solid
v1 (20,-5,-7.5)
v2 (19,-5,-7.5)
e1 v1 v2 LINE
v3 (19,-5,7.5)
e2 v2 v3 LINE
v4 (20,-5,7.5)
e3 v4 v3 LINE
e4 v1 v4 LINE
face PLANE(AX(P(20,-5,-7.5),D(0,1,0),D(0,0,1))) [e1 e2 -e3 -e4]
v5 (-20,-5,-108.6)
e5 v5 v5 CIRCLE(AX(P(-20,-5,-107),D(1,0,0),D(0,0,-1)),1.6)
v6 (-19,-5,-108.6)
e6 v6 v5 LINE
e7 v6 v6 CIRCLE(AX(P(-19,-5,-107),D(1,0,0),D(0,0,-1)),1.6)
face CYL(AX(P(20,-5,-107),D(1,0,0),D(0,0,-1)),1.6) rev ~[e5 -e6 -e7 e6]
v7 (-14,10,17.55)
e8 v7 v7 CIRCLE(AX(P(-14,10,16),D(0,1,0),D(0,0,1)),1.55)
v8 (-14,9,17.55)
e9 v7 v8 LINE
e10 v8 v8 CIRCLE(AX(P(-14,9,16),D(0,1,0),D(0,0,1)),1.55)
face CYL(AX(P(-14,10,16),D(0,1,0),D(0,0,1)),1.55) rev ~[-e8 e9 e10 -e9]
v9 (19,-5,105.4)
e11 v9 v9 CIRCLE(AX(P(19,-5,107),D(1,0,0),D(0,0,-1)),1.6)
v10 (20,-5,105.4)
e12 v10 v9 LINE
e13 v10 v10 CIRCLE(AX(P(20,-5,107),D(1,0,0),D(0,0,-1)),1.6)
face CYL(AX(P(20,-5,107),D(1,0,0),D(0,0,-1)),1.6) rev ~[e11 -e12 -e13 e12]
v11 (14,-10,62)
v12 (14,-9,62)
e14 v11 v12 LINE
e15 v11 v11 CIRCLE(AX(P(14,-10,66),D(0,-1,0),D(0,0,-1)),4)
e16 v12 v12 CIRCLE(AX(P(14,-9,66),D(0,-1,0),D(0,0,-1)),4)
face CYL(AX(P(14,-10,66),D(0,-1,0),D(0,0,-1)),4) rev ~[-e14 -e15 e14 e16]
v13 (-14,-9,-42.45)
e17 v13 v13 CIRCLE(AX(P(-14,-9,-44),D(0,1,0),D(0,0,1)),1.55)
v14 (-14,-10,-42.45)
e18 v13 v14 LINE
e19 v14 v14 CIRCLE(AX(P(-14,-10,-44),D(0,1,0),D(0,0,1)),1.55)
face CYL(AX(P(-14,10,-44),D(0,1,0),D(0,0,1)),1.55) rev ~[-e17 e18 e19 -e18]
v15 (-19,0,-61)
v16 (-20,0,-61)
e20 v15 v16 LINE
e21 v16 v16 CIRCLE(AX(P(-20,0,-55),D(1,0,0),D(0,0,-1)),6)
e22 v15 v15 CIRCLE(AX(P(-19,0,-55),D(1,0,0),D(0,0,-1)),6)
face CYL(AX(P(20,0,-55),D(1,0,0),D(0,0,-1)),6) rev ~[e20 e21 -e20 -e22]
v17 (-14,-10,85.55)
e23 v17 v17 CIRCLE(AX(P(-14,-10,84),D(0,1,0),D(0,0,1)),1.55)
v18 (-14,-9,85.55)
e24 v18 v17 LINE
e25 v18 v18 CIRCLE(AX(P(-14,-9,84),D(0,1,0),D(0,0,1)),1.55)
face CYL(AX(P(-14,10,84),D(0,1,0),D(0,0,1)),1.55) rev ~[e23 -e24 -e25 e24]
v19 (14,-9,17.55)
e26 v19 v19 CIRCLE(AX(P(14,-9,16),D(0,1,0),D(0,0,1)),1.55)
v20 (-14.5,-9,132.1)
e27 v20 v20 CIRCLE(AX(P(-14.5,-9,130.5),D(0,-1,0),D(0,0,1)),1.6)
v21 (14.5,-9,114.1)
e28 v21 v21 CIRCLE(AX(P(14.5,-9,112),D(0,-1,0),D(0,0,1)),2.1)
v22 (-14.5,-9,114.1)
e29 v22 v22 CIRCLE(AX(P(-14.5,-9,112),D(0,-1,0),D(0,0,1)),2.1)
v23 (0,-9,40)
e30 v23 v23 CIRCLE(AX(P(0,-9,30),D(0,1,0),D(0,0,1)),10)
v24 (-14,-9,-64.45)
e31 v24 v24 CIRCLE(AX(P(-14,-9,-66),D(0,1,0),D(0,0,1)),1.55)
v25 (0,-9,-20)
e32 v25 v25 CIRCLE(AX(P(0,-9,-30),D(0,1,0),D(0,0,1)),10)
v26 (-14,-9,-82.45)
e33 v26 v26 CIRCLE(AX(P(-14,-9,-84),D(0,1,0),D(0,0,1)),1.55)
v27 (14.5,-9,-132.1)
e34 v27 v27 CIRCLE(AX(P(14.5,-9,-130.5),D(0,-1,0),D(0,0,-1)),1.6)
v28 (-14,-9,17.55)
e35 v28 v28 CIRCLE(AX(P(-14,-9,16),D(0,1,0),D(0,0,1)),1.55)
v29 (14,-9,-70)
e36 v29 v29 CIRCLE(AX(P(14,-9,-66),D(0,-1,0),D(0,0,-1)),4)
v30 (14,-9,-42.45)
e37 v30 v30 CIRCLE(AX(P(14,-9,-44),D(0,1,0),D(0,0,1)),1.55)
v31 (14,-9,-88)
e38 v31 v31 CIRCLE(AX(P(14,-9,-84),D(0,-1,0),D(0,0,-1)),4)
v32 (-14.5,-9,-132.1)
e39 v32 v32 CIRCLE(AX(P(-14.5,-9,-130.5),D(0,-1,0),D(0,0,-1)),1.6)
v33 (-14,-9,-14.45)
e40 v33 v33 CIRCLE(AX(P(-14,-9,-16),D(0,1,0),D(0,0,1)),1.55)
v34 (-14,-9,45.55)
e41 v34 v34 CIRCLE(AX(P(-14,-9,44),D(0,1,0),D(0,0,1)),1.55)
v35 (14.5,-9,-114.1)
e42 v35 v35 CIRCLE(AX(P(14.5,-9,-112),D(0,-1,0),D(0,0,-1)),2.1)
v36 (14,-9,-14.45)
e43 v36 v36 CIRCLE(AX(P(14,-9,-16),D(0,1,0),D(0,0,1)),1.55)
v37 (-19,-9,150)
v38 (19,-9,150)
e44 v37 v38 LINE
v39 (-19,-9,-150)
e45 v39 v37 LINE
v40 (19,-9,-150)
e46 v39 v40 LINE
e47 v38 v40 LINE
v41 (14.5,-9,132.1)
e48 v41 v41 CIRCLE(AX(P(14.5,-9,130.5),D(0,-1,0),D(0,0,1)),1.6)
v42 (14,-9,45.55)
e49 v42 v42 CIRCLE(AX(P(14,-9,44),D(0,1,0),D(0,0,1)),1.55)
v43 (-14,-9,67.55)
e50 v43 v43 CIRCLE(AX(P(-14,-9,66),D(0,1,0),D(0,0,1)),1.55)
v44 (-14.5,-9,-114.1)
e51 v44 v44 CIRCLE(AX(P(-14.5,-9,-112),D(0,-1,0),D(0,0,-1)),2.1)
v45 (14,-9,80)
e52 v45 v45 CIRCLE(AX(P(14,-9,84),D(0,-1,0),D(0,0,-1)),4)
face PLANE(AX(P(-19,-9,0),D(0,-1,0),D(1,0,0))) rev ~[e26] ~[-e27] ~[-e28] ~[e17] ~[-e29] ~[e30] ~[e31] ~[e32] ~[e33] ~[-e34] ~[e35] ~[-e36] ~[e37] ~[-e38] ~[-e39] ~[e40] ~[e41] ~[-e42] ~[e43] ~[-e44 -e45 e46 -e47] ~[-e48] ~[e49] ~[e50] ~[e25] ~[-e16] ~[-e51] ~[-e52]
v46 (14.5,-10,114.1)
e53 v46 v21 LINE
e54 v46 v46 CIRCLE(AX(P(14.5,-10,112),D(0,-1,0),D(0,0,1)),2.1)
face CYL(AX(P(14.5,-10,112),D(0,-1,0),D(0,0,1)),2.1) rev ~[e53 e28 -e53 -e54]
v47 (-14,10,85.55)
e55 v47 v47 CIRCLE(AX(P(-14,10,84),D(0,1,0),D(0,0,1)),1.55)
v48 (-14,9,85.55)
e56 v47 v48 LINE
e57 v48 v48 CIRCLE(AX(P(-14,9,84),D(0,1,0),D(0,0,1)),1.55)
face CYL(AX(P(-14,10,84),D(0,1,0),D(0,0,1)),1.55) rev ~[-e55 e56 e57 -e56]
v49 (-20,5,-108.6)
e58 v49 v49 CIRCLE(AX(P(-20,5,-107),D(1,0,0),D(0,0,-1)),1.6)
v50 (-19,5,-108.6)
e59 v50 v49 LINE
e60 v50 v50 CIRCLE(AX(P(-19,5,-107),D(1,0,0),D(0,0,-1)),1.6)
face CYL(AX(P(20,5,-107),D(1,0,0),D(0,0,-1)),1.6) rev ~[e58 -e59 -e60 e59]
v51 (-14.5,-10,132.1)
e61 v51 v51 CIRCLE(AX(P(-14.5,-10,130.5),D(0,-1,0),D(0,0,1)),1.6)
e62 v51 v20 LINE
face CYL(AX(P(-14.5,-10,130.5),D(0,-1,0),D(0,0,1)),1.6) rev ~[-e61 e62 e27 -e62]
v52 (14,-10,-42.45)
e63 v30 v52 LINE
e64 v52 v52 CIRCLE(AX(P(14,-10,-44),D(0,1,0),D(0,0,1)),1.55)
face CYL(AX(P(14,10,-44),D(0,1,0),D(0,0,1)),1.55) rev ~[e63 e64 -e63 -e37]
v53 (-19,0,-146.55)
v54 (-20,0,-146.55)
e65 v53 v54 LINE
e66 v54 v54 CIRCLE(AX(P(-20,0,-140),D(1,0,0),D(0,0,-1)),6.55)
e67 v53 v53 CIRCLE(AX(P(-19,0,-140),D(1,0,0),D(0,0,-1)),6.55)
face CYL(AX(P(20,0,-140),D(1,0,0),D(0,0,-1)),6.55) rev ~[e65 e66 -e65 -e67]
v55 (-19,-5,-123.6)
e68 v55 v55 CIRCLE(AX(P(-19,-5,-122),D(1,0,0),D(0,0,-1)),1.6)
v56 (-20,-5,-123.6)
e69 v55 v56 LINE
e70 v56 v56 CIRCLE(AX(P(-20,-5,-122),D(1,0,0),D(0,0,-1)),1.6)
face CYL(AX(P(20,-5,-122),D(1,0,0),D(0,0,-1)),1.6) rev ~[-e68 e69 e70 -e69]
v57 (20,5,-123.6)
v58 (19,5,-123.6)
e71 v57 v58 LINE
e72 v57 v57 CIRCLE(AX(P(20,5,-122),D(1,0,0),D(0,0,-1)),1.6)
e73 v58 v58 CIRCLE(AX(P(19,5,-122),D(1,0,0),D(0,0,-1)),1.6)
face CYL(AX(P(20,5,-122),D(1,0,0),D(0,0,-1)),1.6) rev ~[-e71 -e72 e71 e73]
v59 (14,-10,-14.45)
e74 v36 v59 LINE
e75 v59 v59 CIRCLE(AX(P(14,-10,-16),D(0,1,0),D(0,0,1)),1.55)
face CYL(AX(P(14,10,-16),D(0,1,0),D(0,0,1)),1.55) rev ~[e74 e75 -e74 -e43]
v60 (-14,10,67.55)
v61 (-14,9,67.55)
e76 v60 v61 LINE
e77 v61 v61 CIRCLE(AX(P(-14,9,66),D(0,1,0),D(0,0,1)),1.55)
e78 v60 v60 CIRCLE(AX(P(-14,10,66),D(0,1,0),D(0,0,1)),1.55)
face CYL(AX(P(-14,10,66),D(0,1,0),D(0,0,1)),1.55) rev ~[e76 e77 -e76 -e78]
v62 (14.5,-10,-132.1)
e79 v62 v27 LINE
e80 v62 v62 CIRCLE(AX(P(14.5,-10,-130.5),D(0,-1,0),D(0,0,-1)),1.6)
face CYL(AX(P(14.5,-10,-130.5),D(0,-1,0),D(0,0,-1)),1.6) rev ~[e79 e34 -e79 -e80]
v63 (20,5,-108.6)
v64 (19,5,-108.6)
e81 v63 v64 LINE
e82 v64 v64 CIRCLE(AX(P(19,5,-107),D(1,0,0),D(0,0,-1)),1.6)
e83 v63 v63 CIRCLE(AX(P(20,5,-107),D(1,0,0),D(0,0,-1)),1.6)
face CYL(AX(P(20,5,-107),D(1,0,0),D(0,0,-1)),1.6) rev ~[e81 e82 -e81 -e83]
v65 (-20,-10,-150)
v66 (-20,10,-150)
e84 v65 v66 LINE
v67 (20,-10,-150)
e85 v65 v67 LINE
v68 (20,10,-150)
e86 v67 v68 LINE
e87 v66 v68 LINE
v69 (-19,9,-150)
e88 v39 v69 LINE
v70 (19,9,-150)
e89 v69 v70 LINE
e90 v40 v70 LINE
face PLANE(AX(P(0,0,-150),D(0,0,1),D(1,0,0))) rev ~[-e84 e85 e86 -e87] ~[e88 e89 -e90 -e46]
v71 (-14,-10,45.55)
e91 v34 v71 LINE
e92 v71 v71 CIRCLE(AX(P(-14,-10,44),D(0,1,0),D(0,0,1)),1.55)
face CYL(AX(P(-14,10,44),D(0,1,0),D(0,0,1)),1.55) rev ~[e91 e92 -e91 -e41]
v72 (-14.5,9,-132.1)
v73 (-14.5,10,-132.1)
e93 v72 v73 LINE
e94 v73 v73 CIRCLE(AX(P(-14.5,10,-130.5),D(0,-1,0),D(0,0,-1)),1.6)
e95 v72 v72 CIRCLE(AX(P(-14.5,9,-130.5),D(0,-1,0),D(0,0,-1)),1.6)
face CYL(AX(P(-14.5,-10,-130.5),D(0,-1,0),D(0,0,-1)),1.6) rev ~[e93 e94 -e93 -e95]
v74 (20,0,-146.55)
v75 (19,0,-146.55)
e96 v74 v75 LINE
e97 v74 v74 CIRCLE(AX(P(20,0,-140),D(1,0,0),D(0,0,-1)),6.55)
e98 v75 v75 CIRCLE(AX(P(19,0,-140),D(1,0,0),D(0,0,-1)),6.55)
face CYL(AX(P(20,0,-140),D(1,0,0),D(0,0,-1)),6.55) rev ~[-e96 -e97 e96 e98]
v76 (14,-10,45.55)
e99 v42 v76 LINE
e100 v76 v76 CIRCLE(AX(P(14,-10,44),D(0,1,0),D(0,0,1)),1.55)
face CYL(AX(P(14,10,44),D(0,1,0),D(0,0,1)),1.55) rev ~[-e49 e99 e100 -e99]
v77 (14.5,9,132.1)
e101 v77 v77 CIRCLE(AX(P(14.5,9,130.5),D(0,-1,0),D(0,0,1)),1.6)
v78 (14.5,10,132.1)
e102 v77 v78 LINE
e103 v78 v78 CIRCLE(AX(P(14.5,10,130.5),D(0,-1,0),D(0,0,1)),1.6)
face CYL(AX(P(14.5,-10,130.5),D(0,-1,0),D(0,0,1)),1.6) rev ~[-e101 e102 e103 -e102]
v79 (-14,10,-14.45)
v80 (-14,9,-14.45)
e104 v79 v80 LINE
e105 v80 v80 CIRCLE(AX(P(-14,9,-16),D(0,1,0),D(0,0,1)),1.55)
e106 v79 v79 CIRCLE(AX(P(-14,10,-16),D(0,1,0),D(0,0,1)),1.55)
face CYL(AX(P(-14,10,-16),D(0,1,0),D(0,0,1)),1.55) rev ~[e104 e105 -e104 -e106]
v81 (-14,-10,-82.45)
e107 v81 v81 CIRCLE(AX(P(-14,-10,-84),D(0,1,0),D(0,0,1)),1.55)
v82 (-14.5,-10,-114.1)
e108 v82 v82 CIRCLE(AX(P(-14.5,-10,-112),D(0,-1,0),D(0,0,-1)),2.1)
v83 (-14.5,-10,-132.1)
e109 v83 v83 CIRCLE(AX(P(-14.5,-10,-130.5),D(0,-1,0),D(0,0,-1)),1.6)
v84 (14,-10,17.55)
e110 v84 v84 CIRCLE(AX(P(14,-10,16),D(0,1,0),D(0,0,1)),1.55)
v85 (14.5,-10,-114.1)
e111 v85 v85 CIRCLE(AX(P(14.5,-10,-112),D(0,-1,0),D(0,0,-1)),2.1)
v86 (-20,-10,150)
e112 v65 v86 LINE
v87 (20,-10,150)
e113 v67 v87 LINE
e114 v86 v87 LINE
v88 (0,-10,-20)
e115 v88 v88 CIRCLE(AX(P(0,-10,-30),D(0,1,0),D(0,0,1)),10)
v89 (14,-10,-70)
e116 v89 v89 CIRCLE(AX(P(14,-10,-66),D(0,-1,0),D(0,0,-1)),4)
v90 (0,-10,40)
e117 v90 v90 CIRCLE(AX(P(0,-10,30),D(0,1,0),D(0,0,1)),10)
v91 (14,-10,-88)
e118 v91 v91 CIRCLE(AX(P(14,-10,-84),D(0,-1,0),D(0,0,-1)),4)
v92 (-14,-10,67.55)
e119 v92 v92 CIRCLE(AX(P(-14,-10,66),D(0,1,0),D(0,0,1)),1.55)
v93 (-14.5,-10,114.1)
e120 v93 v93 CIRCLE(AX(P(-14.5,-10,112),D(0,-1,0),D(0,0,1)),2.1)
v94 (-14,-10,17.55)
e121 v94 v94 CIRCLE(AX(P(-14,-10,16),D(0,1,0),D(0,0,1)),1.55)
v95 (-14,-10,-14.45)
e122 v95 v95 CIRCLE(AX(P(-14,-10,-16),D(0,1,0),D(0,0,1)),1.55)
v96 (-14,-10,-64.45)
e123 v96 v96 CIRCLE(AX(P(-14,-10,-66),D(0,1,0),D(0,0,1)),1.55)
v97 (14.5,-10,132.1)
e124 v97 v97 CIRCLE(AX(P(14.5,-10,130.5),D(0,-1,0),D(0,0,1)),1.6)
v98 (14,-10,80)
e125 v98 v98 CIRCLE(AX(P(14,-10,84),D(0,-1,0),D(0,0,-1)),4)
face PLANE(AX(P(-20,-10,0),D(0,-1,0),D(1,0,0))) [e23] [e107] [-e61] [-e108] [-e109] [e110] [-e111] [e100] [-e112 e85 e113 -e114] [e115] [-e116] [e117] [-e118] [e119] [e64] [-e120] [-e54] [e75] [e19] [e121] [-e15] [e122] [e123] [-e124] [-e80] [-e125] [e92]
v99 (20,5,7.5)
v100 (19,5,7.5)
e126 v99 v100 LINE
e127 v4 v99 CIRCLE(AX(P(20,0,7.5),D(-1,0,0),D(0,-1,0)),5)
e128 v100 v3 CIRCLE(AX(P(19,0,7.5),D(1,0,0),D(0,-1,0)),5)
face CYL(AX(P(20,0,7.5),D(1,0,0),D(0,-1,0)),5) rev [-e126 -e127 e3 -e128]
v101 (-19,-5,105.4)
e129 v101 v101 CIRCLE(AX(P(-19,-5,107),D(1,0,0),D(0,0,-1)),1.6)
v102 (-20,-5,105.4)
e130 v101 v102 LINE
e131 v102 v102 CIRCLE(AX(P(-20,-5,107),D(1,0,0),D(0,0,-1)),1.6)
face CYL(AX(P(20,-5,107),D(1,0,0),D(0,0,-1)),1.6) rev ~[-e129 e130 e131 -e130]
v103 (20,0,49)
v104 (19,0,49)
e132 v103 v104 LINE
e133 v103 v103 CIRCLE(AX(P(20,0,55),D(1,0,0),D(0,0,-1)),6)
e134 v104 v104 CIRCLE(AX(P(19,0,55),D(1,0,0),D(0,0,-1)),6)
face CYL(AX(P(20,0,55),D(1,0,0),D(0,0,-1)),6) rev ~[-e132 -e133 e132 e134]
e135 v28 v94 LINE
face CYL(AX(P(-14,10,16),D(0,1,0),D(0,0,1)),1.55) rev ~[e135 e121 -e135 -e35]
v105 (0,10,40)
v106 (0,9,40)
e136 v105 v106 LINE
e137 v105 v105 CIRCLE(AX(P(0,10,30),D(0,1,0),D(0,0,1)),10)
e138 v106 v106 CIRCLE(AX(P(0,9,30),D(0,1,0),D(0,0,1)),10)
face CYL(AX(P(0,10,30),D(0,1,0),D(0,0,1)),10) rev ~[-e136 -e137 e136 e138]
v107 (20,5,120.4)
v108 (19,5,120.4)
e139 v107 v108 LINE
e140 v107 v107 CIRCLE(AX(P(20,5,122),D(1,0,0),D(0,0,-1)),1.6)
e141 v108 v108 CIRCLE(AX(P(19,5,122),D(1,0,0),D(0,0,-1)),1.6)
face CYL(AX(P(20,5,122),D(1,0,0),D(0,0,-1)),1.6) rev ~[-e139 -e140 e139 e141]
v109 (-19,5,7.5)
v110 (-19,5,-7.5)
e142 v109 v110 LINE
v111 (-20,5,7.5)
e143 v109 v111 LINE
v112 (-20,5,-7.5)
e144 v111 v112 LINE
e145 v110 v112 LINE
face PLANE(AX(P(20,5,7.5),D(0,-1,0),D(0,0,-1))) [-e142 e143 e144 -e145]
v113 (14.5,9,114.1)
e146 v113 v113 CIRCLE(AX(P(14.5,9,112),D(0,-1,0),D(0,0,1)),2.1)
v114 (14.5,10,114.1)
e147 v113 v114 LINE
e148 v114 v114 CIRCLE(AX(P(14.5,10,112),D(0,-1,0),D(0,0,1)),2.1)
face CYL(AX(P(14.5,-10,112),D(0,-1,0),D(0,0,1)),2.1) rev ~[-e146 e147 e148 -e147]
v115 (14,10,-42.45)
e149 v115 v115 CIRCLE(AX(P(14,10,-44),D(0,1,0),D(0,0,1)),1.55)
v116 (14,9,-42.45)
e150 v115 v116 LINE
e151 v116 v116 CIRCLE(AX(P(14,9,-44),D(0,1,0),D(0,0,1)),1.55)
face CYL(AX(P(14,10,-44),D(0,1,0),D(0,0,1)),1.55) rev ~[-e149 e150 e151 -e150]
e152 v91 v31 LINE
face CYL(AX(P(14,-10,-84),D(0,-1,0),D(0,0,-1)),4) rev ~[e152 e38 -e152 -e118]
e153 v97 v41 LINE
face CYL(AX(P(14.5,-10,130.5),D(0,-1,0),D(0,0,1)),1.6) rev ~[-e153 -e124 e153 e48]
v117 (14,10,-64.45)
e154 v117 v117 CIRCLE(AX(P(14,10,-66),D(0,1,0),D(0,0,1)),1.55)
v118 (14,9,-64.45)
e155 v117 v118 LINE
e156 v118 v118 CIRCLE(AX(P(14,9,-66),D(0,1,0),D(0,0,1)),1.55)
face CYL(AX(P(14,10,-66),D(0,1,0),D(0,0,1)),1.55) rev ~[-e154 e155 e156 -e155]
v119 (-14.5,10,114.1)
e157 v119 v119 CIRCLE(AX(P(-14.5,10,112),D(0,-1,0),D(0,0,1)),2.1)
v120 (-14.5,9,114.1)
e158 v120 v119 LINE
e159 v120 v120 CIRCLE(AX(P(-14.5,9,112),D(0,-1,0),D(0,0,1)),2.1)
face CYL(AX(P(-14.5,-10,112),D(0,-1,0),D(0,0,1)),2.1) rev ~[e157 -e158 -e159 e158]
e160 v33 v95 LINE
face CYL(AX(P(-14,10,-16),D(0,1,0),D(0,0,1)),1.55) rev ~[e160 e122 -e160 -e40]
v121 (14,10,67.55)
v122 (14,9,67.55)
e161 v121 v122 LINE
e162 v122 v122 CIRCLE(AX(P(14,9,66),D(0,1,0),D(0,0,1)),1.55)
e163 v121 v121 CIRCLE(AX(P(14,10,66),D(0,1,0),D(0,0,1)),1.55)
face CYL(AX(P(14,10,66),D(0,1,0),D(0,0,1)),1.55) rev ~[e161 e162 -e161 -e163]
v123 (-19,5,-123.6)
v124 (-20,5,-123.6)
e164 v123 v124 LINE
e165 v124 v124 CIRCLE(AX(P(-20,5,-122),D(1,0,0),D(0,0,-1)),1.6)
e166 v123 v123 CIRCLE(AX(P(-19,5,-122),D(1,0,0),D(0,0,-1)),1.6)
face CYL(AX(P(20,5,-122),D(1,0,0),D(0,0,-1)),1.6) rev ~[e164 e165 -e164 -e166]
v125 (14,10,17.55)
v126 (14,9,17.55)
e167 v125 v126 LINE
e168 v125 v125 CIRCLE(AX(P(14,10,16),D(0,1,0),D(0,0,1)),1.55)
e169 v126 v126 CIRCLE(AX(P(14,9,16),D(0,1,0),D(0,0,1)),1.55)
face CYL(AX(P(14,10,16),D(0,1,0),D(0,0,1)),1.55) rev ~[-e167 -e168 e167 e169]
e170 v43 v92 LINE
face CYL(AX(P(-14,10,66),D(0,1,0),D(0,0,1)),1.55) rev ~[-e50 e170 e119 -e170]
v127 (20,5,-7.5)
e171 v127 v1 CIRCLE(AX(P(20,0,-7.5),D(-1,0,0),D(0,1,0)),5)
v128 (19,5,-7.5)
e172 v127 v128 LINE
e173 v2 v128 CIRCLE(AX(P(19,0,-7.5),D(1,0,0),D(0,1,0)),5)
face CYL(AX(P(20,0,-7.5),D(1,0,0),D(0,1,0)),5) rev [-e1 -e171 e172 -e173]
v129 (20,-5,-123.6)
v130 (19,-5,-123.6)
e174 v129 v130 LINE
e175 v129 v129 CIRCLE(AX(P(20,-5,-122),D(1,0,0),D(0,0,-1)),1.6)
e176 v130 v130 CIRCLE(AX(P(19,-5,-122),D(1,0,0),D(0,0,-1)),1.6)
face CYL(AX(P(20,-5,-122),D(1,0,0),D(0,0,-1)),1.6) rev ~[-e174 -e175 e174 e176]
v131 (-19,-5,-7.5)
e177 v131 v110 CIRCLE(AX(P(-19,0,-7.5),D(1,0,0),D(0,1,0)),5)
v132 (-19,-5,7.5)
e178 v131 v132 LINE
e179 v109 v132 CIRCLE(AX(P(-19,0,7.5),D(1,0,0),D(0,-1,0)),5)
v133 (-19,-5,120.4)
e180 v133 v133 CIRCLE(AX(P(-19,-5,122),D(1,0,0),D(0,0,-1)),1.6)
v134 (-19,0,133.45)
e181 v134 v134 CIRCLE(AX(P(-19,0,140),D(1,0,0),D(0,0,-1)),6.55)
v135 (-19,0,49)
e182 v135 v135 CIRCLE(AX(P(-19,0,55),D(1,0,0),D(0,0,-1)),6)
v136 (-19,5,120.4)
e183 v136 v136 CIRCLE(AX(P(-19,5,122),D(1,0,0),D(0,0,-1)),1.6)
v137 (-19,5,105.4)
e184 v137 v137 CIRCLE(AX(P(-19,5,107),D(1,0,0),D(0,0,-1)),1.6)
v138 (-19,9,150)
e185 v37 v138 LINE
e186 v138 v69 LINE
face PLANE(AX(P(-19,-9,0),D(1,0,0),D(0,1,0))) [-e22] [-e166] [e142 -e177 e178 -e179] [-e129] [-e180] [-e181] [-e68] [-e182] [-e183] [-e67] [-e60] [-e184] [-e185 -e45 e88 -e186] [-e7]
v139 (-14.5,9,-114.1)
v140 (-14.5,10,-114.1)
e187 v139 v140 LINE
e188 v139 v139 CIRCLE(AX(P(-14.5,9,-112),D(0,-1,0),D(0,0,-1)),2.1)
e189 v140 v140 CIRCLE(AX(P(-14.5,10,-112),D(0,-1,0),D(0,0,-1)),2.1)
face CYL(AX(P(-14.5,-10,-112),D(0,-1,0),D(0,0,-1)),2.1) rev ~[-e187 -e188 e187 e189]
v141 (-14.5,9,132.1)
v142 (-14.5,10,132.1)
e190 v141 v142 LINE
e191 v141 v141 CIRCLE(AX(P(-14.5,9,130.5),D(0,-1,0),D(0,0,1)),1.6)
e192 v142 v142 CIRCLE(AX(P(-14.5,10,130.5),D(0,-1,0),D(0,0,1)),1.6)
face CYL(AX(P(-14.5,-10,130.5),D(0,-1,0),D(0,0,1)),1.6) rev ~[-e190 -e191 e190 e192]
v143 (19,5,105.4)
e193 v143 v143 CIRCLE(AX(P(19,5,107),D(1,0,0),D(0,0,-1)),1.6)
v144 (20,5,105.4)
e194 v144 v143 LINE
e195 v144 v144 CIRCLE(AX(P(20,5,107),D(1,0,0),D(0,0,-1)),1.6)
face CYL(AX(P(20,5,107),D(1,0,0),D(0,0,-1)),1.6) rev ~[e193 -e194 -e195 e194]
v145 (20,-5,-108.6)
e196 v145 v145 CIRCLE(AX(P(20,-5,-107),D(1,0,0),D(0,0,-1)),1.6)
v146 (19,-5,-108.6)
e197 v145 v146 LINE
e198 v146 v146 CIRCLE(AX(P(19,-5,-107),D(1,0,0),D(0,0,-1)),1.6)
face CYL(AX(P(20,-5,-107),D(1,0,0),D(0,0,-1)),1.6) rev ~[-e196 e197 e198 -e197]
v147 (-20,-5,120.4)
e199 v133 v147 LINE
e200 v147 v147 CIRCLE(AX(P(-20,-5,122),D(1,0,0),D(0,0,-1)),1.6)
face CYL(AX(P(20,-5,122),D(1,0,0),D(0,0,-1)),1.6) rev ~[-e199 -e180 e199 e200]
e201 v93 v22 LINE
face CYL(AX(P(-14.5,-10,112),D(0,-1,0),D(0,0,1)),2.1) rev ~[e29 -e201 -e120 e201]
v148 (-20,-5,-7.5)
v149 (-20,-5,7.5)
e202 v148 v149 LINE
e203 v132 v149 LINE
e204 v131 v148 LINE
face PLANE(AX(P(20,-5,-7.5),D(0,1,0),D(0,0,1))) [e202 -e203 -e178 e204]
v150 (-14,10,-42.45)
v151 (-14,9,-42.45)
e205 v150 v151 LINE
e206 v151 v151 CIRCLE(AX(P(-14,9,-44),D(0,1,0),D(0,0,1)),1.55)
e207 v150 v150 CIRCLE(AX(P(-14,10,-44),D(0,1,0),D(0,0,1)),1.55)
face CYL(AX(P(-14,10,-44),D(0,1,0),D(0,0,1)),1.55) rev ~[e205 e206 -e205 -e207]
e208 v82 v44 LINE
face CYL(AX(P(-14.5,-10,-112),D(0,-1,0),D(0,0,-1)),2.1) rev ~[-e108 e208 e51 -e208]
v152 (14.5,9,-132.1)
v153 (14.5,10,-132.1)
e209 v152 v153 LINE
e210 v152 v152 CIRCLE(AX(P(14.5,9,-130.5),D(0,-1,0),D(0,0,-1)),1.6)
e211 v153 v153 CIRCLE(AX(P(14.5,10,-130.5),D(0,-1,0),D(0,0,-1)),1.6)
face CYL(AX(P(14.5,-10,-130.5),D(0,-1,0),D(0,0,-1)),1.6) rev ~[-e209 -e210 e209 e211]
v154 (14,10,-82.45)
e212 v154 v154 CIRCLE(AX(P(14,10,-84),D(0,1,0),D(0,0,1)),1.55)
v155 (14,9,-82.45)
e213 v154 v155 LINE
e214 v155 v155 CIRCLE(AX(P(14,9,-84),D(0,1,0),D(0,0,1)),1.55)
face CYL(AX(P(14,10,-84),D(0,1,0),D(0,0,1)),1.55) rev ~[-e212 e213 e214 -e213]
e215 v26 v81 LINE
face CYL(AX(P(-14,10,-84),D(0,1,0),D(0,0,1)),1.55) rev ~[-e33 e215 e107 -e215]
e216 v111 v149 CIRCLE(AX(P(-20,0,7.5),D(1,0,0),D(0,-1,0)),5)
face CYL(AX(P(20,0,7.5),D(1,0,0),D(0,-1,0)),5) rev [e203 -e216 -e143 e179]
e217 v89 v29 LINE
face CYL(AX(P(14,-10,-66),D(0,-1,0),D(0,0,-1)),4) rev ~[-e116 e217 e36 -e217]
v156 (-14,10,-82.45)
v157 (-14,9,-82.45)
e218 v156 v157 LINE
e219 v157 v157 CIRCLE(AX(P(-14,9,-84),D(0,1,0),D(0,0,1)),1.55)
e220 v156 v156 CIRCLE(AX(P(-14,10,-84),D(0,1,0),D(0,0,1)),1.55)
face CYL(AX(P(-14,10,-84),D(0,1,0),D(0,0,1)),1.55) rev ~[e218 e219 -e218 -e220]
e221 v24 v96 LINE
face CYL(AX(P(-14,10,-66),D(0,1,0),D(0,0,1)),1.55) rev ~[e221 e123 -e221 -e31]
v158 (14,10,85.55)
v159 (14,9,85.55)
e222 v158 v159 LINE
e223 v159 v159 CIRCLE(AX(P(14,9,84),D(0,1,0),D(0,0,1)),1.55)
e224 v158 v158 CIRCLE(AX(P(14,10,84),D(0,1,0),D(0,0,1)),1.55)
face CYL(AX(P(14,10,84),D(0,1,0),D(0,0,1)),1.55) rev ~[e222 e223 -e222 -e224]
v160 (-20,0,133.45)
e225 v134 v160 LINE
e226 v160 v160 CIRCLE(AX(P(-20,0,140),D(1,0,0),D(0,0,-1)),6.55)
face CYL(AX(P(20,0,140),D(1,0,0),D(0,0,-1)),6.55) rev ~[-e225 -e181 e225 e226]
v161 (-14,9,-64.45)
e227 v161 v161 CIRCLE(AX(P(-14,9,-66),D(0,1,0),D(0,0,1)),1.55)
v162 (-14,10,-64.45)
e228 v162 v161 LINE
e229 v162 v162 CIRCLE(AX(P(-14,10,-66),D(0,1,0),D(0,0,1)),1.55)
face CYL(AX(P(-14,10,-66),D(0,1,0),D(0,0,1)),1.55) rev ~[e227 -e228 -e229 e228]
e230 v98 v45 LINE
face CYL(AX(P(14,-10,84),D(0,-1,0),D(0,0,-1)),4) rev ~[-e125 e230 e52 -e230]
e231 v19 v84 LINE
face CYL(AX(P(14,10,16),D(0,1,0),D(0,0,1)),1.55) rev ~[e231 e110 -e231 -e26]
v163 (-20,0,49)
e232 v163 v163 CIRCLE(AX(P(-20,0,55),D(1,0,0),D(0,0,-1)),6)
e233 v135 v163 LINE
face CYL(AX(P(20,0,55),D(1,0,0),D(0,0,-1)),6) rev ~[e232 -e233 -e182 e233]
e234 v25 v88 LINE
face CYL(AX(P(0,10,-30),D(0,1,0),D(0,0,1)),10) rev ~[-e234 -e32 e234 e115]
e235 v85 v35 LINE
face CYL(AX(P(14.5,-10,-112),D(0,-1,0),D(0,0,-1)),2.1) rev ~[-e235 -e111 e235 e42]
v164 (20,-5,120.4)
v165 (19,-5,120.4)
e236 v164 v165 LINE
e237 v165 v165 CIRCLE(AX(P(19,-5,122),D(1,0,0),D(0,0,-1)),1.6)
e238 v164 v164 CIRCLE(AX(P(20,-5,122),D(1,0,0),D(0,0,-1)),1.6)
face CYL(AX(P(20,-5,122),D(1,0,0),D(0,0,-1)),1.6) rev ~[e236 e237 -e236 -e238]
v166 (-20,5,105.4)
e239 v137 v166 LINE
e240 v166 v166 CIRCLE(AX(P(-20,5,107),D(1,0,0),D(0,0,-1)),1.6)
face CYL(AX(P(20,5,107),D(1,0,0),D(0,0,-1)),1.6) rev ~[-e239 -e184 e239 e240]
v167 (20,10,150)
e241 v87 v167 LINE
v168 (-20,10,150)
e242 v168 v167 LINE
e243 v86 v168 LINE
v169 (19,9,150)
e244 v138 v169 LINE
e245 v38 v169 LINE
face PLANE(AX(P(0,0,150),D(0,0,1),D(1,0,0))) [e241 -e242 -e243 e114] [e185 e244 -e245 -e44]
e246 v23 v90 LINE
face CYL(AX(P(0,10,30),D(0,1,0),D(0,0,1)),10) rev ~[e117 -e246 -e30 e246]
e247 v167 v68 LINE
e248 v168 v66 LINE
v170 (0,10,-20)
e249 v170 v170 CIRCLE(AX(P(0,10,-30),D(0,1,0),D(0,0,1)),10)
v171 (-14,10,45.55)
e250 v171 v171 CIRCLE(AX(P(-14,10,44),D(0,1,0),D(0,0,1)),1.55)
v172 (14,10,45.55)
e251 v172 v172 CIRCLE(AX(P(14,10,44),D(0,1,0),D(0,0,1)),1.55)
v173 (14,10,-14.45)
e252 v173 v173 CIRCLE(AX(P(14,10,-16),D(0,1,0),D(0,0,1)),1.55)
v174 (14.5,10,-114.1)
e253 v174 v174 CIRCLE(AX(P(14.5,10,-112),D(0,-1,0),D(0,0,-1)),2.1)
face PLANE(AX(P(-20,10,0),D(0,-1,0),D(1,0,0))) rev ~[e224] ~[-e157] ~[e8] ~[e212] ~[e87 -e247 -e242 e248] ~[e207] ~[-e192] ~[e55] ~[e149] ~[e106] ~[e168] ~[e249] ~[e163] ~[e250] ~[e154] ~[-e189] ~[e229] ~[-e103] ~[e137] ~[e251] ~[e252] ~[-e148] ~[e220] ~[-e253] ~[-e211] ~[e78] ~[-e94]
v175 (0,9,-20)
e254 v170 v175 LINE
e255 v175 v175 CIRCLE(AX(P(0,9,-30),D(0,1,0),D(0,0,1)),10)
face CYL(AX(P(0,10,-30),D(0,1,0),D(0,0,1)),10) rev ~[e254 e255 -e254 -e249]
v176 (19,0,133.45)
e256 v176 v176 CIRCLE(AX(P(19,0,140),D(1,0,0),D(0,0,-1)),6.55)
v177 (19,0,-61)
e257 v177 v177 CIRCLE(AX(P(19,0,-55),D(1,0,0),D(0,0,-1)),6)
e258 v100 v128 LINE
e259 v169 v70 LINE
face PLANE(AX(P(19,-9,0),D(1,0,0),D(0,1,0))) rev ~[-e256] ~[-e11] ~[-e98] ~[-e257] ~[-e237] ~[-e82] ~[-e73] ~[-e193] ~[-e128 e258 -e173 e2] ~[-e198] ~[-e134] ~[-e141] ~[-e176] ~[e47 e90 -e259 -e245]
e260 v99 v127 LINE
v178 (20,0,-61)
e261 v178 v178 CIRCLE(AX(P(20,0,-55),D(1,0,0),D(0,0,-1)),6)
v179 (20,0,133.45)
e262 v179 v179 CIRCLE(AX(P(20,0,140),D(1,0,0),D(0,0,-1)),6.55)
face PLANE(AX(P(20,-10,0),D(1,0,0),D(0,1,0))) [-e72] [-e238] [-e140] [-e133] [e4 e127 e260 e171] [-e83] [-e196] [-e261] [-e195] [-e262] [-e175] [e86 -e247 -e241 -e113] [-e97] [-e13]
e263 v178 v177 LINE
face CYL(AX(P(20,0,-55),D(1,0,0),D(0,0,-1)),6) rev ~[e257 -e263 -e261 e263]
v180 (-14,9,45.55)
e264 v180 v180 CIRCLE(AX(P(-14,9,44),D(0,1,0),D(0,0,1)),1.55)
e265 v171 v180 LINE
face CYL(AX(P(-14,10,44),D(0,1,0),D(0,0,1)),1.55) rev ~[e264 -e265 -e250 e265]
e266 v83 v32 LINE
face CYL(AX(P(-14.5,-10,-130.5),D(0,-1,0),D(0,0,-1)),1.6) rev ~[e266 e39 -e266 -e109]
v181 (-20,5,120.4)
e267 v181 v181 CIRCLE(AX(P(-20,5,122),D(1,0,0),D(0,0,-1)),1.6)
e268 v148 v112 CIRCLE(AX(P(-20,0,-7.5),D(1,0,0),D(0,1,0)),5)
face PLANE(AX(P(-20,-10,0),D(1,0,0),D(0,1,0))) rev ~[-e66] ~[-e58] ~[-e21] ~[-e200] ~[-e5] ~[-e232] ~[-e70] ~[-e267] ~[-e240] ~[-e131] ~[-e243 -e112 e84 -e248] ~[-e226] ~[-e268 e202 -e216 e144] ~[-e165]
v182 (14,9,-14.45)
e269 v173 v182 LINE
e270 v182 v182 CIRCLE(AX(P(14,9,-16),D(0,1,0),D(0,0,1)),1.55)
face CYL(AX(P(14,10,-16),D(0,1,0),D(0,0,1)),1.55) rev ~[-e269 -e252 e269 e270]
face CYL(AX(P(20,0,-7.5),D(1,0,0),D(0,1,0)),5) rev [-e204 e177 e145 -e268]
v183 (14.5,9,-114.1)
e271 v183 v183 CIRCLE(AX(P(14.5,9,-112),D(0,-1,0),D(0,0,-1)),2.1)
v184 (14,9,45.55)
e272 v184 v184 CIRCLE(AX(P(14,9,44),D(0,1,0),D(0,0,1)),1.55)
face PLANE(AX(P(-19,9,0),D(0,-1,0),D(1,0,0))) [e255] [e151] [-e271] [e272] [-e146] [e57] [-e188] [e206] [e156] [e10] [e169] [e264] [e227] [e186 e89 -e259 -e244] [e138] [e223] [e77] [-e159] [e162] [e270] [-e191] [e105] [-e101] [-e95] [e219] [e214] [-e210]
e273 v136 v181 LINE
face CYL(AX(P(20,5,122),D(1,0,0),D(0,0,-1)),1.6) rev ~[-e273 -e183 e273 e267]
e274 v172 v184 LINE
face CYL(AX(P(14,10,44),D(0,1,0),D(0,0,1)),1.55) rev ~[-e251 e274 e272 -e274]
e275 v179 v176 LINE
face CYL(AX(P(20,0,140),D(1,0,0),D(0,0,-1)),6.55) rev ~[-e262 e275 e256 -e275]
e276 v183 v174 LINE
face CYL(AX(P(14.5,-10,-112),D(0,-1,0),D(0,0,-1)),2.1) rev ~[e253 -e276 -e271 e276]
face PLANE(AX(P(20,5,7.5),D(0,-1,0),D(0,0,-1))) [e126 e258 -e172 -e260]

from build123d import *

# Parameters (mm, degrees)
SKETCH_1_W          = 40
SKETCH_1_H          = 20
SKETCH_1_W_2        = 38
SKETCH_1_H_2        = 18
EXTRUDE_1_DEPTH     = 150
SKETCH_2_R          = 6.55
CUT_EXTRUDE_1_DEPTH = 40
SKETCH_3_R          = 1.55
CUT_EXTRUDE_2_DEPTH = 30
SKETCH_4_R          = 4
CUT_EXTRUDE_3_DEPTH = 10
SKETCH_5_R          = 1.6
CUT_EXTRUDE_4_DEPTH = 50
SKETCH_6_R          = 1.6
SKETCH_6_R_2        = 2.1
CUT_EXTRUDE_5_DEPTH = 50
SKETCH_7_R          = 10
SKETCH_7_R_2        = 1.55
CUT_EXTRUDE_6_DEPTH = 30
SKETCH_10_R         = 6
CUT_EXTRUDE_7_DEPTH = 50


with BuildPart() as part:
    # 草图1 → 凸台-拉伸1 (new, symmetric)
    with BuildSketch(Plane.XY):
        Rectangle(SKETCH_1_W, SKETCH_1_H)
        Rectangle(SKETCH_1_W_2, SKETCH_1_H_2, mode=Mode.SUBTRACT)
    extrude(amount=EXTRUDE_1_DEPTH, both=True)

    # 草图2 → 切除-拉伸1 (cut)
    with BuildSketch(Plane(origin=(20, 0, 0), x_dir=(0, 0, -1), z_dir=(1, 0, 0))):
        with Locations((-140, 0)):
            Circle(SKETCH_2_R)
        with Locations((140, 0)):
            Circle(SKETCH_2_R)
    extrude(amount=-CUT_EXTRUDE_1_DEPTH, mode=Mode.SUBTRACT)

    # 草图3 → 切除-拉伸2 (cut)
    with BuildSketch(Plane(origin=(0, 10, 0), x_dir=(1, 0, 0), z_dir=(0, 1, 0))):
        with Locations(Location((-14, -84, 0), (0, 0, 270))):
            Circle(SKETCH_3_R)
        with Locations(Location((-14, -66, 0), (0, 0, 270))):
            Circle(SKETCH_3_R)
        with Locations(Location((14, -84, 0), (0, 0, 270))):
            Circle(SKETCH_3_R)
        with Locations(Location((14, -66, 0), (0, 0, 270))):
            Circle(SKETCH_3_R)
        with Locations(Location((-14, 66, 0), (0, 0, 270))):
            Circle(SKETCH_3_R)
        with Locations(Location((-14, 84, 0), (0, 0, 270))):
            Circle(SKETCH_3_R)
        with Locations(Location((14, 66, 0), (0, 0, 270))):
            Circle(SKETCH_3_R)
        with Locations(Location((14, 84, 0), (0, 0, 270))):
            Circle(SKETCH_3_R)
    extrude(amount=-CUT_EXTRUDE_2_DEPTH, mode=Mode.SUBTRACT)

    # 草图4 → 切除-拉伸3 (cut)
    with BuildSketch(Plane.XZ.offset(10)):
        with Locations(Location((14, -84, 0), (0, 0, 270))):
            Circle(SKETCH_4_R)
        with Locations(Location((14, -66, 0), (0, 0, 270))):
            Circle(SKETCH_4_R)
        with Locations(Location((14, 84, 0), (0, 0, 270))):
            Circle(SKETCH_4_R)
        with Locations(Location((14, 66, 0), (0, 0, 270))):
            Circle(SKETCH_4_R)
    extrude(amount=-CUT_EXTRUDE_3_DEPTH, mode=Mode.SUBTRACT)

    # 草图5 → 切除-拉伸4 (cut)
    with BuildSketch(Plane(origin=(20, 0, 0), x_dir=(0, 0, -1), z_dir=(1, 0, 0))):
        with Locations((122, 5)):
            Circle(SKETCH_5_R)
        with Locations((122, -5)):
            Circle(SKETCH_5_R)
        with Locations((107, 5)):
            Circle(SKETCH_5_R)
        with Locations((107, -5)):
            Circle(SKETCH_5_R)
        with Locations((-107, -5)):
            Circle(SKETCH_5_R)
        with Locations((-107, 5)):
            Circle(SKETCH_5_R)
        with Locations((-122, -5)):
            Circle(SKETCH_5_R)
        with Locations((-122, 5)):
            Circle(SKETCH_5_R)
    extrude(amount=-CUT_EXTRUDE_4_DEPTH, mode=Mode.SUBTRACT)

    # 草图6 → 切除-拉伸5 (cut)
    with BuildSketch(Plane.XZ.offset(10)):
        with Locations(Location((-14.5, -130.5, 0), (0, 0, 270))):
            Circle(SKETCH_6_R)
        with Locations(Location((14.5, -130.5, 0), (0, 0, 270))):
            Circle(SKETCH_6_R)
        with Locations(Location((14.5, -112, 0), (0, 0, 270))):
            Circle(SKETCH_6_R_2)
        with Locations(Location((-14.5, -112, 0), (0, 0, 270))):
            Circle(SKETCH_6_R_2)
        with Locations(Location((-14.5, 112, 0), (0, 0, 90))):
            Circle(SKETCH_6_R_2)
        with Locations(Location((14.5, 112, 0), (0, 0, 90))):
            Circle(SKETCH_6_R_2)
        with Locations(Location((14.5, 130.5, 0), (0, 0, 90))):
            Circle(SKETCH_6_R)
        with Locations(Location((-14.5, 130.5, 0), (0, 0, 90))):
            Circle(SKETCH_6_R)
    extrude(amount=-CUT_EXTRUDE_5_DEPTH, mode=Mode.SUBTRACT)

    # 草图7 → 切除-拉伸6 (cut)
    with BuildSketch(Plane(origin=(0, 10, 0), x_dir=(1, 0, 0), z_dir=(0, 1, 0))):
        with Locations(Location((0, 30, 0), (0, 0, 270))):
            Circle(SKETCH_7_R)
        with Locations(Location((14, 44, 0), (0, 0, 270))):
            Circle(SKETCH_7_R_2)
        with Locations(Location((-14, 44, 0), (0, 0, 270))):
            Circle(SKETCH_7_R_2)
        with Locations(Location((-14, 16, 0), (0, 0, 270))):
            Circle(SKETCH_7_R_2)
        with Locations(Location((14, 16, 0), (0, 0, 270))):
            Circle(SKETCH_7_R_2)
        with Locations(Location((14, -16, 0), (0, 0, 270))):
            Circle(SKETCH_7_R_2)
        with Locations(Location((-14, -16, 0), (0, 0, 270))):
            Circle(SKETCH_7_R_2)
        with Locations(Location((-14, -44, 0), (0, 0, 270))):
            Circle(SKETCH_7_R_2)
        with Locations(Location((14, -44, 0), (0, 0, 270))):
            Circle(SKETCH_7_R_2)
        with Locations(Location((0, -30, 0), (0, 0, 270))):
            Circle(SKETCH_7_R)
    extrude(amount=-CUT_EXTRUDE_6_DEPTH, mode=Mode.SUBTRACT)

    # 草图10 → 切除-拉伸7 (cut)
    with BuildSketch(Plane(origin=(20, 0, 0), x_dir=(0, 0, -1), z_dir=(1, 0, 0))):
        with Locations((55, 0)):
            Circle(SKETCH_10_R)
        with Locations((-55, 0)):
            Circle(SKETCH_10_R)
        with BuildLine():
            Line((-7.5, 5), (7.5, 5))
            ThreePointArc((7.5, 5), (12.5, 0), (7.5, -5))
            Line((7.5, -5), (-7.5, -5))
            ThreePointArc((-7.5, -5), (-12.5, 0), (-7.5, 5))
        make_face()
    extrude(amount=-CUT_EXTRUDE_7_DEPTH, mode=Mode.SUBTRACT)


solid = part.part
